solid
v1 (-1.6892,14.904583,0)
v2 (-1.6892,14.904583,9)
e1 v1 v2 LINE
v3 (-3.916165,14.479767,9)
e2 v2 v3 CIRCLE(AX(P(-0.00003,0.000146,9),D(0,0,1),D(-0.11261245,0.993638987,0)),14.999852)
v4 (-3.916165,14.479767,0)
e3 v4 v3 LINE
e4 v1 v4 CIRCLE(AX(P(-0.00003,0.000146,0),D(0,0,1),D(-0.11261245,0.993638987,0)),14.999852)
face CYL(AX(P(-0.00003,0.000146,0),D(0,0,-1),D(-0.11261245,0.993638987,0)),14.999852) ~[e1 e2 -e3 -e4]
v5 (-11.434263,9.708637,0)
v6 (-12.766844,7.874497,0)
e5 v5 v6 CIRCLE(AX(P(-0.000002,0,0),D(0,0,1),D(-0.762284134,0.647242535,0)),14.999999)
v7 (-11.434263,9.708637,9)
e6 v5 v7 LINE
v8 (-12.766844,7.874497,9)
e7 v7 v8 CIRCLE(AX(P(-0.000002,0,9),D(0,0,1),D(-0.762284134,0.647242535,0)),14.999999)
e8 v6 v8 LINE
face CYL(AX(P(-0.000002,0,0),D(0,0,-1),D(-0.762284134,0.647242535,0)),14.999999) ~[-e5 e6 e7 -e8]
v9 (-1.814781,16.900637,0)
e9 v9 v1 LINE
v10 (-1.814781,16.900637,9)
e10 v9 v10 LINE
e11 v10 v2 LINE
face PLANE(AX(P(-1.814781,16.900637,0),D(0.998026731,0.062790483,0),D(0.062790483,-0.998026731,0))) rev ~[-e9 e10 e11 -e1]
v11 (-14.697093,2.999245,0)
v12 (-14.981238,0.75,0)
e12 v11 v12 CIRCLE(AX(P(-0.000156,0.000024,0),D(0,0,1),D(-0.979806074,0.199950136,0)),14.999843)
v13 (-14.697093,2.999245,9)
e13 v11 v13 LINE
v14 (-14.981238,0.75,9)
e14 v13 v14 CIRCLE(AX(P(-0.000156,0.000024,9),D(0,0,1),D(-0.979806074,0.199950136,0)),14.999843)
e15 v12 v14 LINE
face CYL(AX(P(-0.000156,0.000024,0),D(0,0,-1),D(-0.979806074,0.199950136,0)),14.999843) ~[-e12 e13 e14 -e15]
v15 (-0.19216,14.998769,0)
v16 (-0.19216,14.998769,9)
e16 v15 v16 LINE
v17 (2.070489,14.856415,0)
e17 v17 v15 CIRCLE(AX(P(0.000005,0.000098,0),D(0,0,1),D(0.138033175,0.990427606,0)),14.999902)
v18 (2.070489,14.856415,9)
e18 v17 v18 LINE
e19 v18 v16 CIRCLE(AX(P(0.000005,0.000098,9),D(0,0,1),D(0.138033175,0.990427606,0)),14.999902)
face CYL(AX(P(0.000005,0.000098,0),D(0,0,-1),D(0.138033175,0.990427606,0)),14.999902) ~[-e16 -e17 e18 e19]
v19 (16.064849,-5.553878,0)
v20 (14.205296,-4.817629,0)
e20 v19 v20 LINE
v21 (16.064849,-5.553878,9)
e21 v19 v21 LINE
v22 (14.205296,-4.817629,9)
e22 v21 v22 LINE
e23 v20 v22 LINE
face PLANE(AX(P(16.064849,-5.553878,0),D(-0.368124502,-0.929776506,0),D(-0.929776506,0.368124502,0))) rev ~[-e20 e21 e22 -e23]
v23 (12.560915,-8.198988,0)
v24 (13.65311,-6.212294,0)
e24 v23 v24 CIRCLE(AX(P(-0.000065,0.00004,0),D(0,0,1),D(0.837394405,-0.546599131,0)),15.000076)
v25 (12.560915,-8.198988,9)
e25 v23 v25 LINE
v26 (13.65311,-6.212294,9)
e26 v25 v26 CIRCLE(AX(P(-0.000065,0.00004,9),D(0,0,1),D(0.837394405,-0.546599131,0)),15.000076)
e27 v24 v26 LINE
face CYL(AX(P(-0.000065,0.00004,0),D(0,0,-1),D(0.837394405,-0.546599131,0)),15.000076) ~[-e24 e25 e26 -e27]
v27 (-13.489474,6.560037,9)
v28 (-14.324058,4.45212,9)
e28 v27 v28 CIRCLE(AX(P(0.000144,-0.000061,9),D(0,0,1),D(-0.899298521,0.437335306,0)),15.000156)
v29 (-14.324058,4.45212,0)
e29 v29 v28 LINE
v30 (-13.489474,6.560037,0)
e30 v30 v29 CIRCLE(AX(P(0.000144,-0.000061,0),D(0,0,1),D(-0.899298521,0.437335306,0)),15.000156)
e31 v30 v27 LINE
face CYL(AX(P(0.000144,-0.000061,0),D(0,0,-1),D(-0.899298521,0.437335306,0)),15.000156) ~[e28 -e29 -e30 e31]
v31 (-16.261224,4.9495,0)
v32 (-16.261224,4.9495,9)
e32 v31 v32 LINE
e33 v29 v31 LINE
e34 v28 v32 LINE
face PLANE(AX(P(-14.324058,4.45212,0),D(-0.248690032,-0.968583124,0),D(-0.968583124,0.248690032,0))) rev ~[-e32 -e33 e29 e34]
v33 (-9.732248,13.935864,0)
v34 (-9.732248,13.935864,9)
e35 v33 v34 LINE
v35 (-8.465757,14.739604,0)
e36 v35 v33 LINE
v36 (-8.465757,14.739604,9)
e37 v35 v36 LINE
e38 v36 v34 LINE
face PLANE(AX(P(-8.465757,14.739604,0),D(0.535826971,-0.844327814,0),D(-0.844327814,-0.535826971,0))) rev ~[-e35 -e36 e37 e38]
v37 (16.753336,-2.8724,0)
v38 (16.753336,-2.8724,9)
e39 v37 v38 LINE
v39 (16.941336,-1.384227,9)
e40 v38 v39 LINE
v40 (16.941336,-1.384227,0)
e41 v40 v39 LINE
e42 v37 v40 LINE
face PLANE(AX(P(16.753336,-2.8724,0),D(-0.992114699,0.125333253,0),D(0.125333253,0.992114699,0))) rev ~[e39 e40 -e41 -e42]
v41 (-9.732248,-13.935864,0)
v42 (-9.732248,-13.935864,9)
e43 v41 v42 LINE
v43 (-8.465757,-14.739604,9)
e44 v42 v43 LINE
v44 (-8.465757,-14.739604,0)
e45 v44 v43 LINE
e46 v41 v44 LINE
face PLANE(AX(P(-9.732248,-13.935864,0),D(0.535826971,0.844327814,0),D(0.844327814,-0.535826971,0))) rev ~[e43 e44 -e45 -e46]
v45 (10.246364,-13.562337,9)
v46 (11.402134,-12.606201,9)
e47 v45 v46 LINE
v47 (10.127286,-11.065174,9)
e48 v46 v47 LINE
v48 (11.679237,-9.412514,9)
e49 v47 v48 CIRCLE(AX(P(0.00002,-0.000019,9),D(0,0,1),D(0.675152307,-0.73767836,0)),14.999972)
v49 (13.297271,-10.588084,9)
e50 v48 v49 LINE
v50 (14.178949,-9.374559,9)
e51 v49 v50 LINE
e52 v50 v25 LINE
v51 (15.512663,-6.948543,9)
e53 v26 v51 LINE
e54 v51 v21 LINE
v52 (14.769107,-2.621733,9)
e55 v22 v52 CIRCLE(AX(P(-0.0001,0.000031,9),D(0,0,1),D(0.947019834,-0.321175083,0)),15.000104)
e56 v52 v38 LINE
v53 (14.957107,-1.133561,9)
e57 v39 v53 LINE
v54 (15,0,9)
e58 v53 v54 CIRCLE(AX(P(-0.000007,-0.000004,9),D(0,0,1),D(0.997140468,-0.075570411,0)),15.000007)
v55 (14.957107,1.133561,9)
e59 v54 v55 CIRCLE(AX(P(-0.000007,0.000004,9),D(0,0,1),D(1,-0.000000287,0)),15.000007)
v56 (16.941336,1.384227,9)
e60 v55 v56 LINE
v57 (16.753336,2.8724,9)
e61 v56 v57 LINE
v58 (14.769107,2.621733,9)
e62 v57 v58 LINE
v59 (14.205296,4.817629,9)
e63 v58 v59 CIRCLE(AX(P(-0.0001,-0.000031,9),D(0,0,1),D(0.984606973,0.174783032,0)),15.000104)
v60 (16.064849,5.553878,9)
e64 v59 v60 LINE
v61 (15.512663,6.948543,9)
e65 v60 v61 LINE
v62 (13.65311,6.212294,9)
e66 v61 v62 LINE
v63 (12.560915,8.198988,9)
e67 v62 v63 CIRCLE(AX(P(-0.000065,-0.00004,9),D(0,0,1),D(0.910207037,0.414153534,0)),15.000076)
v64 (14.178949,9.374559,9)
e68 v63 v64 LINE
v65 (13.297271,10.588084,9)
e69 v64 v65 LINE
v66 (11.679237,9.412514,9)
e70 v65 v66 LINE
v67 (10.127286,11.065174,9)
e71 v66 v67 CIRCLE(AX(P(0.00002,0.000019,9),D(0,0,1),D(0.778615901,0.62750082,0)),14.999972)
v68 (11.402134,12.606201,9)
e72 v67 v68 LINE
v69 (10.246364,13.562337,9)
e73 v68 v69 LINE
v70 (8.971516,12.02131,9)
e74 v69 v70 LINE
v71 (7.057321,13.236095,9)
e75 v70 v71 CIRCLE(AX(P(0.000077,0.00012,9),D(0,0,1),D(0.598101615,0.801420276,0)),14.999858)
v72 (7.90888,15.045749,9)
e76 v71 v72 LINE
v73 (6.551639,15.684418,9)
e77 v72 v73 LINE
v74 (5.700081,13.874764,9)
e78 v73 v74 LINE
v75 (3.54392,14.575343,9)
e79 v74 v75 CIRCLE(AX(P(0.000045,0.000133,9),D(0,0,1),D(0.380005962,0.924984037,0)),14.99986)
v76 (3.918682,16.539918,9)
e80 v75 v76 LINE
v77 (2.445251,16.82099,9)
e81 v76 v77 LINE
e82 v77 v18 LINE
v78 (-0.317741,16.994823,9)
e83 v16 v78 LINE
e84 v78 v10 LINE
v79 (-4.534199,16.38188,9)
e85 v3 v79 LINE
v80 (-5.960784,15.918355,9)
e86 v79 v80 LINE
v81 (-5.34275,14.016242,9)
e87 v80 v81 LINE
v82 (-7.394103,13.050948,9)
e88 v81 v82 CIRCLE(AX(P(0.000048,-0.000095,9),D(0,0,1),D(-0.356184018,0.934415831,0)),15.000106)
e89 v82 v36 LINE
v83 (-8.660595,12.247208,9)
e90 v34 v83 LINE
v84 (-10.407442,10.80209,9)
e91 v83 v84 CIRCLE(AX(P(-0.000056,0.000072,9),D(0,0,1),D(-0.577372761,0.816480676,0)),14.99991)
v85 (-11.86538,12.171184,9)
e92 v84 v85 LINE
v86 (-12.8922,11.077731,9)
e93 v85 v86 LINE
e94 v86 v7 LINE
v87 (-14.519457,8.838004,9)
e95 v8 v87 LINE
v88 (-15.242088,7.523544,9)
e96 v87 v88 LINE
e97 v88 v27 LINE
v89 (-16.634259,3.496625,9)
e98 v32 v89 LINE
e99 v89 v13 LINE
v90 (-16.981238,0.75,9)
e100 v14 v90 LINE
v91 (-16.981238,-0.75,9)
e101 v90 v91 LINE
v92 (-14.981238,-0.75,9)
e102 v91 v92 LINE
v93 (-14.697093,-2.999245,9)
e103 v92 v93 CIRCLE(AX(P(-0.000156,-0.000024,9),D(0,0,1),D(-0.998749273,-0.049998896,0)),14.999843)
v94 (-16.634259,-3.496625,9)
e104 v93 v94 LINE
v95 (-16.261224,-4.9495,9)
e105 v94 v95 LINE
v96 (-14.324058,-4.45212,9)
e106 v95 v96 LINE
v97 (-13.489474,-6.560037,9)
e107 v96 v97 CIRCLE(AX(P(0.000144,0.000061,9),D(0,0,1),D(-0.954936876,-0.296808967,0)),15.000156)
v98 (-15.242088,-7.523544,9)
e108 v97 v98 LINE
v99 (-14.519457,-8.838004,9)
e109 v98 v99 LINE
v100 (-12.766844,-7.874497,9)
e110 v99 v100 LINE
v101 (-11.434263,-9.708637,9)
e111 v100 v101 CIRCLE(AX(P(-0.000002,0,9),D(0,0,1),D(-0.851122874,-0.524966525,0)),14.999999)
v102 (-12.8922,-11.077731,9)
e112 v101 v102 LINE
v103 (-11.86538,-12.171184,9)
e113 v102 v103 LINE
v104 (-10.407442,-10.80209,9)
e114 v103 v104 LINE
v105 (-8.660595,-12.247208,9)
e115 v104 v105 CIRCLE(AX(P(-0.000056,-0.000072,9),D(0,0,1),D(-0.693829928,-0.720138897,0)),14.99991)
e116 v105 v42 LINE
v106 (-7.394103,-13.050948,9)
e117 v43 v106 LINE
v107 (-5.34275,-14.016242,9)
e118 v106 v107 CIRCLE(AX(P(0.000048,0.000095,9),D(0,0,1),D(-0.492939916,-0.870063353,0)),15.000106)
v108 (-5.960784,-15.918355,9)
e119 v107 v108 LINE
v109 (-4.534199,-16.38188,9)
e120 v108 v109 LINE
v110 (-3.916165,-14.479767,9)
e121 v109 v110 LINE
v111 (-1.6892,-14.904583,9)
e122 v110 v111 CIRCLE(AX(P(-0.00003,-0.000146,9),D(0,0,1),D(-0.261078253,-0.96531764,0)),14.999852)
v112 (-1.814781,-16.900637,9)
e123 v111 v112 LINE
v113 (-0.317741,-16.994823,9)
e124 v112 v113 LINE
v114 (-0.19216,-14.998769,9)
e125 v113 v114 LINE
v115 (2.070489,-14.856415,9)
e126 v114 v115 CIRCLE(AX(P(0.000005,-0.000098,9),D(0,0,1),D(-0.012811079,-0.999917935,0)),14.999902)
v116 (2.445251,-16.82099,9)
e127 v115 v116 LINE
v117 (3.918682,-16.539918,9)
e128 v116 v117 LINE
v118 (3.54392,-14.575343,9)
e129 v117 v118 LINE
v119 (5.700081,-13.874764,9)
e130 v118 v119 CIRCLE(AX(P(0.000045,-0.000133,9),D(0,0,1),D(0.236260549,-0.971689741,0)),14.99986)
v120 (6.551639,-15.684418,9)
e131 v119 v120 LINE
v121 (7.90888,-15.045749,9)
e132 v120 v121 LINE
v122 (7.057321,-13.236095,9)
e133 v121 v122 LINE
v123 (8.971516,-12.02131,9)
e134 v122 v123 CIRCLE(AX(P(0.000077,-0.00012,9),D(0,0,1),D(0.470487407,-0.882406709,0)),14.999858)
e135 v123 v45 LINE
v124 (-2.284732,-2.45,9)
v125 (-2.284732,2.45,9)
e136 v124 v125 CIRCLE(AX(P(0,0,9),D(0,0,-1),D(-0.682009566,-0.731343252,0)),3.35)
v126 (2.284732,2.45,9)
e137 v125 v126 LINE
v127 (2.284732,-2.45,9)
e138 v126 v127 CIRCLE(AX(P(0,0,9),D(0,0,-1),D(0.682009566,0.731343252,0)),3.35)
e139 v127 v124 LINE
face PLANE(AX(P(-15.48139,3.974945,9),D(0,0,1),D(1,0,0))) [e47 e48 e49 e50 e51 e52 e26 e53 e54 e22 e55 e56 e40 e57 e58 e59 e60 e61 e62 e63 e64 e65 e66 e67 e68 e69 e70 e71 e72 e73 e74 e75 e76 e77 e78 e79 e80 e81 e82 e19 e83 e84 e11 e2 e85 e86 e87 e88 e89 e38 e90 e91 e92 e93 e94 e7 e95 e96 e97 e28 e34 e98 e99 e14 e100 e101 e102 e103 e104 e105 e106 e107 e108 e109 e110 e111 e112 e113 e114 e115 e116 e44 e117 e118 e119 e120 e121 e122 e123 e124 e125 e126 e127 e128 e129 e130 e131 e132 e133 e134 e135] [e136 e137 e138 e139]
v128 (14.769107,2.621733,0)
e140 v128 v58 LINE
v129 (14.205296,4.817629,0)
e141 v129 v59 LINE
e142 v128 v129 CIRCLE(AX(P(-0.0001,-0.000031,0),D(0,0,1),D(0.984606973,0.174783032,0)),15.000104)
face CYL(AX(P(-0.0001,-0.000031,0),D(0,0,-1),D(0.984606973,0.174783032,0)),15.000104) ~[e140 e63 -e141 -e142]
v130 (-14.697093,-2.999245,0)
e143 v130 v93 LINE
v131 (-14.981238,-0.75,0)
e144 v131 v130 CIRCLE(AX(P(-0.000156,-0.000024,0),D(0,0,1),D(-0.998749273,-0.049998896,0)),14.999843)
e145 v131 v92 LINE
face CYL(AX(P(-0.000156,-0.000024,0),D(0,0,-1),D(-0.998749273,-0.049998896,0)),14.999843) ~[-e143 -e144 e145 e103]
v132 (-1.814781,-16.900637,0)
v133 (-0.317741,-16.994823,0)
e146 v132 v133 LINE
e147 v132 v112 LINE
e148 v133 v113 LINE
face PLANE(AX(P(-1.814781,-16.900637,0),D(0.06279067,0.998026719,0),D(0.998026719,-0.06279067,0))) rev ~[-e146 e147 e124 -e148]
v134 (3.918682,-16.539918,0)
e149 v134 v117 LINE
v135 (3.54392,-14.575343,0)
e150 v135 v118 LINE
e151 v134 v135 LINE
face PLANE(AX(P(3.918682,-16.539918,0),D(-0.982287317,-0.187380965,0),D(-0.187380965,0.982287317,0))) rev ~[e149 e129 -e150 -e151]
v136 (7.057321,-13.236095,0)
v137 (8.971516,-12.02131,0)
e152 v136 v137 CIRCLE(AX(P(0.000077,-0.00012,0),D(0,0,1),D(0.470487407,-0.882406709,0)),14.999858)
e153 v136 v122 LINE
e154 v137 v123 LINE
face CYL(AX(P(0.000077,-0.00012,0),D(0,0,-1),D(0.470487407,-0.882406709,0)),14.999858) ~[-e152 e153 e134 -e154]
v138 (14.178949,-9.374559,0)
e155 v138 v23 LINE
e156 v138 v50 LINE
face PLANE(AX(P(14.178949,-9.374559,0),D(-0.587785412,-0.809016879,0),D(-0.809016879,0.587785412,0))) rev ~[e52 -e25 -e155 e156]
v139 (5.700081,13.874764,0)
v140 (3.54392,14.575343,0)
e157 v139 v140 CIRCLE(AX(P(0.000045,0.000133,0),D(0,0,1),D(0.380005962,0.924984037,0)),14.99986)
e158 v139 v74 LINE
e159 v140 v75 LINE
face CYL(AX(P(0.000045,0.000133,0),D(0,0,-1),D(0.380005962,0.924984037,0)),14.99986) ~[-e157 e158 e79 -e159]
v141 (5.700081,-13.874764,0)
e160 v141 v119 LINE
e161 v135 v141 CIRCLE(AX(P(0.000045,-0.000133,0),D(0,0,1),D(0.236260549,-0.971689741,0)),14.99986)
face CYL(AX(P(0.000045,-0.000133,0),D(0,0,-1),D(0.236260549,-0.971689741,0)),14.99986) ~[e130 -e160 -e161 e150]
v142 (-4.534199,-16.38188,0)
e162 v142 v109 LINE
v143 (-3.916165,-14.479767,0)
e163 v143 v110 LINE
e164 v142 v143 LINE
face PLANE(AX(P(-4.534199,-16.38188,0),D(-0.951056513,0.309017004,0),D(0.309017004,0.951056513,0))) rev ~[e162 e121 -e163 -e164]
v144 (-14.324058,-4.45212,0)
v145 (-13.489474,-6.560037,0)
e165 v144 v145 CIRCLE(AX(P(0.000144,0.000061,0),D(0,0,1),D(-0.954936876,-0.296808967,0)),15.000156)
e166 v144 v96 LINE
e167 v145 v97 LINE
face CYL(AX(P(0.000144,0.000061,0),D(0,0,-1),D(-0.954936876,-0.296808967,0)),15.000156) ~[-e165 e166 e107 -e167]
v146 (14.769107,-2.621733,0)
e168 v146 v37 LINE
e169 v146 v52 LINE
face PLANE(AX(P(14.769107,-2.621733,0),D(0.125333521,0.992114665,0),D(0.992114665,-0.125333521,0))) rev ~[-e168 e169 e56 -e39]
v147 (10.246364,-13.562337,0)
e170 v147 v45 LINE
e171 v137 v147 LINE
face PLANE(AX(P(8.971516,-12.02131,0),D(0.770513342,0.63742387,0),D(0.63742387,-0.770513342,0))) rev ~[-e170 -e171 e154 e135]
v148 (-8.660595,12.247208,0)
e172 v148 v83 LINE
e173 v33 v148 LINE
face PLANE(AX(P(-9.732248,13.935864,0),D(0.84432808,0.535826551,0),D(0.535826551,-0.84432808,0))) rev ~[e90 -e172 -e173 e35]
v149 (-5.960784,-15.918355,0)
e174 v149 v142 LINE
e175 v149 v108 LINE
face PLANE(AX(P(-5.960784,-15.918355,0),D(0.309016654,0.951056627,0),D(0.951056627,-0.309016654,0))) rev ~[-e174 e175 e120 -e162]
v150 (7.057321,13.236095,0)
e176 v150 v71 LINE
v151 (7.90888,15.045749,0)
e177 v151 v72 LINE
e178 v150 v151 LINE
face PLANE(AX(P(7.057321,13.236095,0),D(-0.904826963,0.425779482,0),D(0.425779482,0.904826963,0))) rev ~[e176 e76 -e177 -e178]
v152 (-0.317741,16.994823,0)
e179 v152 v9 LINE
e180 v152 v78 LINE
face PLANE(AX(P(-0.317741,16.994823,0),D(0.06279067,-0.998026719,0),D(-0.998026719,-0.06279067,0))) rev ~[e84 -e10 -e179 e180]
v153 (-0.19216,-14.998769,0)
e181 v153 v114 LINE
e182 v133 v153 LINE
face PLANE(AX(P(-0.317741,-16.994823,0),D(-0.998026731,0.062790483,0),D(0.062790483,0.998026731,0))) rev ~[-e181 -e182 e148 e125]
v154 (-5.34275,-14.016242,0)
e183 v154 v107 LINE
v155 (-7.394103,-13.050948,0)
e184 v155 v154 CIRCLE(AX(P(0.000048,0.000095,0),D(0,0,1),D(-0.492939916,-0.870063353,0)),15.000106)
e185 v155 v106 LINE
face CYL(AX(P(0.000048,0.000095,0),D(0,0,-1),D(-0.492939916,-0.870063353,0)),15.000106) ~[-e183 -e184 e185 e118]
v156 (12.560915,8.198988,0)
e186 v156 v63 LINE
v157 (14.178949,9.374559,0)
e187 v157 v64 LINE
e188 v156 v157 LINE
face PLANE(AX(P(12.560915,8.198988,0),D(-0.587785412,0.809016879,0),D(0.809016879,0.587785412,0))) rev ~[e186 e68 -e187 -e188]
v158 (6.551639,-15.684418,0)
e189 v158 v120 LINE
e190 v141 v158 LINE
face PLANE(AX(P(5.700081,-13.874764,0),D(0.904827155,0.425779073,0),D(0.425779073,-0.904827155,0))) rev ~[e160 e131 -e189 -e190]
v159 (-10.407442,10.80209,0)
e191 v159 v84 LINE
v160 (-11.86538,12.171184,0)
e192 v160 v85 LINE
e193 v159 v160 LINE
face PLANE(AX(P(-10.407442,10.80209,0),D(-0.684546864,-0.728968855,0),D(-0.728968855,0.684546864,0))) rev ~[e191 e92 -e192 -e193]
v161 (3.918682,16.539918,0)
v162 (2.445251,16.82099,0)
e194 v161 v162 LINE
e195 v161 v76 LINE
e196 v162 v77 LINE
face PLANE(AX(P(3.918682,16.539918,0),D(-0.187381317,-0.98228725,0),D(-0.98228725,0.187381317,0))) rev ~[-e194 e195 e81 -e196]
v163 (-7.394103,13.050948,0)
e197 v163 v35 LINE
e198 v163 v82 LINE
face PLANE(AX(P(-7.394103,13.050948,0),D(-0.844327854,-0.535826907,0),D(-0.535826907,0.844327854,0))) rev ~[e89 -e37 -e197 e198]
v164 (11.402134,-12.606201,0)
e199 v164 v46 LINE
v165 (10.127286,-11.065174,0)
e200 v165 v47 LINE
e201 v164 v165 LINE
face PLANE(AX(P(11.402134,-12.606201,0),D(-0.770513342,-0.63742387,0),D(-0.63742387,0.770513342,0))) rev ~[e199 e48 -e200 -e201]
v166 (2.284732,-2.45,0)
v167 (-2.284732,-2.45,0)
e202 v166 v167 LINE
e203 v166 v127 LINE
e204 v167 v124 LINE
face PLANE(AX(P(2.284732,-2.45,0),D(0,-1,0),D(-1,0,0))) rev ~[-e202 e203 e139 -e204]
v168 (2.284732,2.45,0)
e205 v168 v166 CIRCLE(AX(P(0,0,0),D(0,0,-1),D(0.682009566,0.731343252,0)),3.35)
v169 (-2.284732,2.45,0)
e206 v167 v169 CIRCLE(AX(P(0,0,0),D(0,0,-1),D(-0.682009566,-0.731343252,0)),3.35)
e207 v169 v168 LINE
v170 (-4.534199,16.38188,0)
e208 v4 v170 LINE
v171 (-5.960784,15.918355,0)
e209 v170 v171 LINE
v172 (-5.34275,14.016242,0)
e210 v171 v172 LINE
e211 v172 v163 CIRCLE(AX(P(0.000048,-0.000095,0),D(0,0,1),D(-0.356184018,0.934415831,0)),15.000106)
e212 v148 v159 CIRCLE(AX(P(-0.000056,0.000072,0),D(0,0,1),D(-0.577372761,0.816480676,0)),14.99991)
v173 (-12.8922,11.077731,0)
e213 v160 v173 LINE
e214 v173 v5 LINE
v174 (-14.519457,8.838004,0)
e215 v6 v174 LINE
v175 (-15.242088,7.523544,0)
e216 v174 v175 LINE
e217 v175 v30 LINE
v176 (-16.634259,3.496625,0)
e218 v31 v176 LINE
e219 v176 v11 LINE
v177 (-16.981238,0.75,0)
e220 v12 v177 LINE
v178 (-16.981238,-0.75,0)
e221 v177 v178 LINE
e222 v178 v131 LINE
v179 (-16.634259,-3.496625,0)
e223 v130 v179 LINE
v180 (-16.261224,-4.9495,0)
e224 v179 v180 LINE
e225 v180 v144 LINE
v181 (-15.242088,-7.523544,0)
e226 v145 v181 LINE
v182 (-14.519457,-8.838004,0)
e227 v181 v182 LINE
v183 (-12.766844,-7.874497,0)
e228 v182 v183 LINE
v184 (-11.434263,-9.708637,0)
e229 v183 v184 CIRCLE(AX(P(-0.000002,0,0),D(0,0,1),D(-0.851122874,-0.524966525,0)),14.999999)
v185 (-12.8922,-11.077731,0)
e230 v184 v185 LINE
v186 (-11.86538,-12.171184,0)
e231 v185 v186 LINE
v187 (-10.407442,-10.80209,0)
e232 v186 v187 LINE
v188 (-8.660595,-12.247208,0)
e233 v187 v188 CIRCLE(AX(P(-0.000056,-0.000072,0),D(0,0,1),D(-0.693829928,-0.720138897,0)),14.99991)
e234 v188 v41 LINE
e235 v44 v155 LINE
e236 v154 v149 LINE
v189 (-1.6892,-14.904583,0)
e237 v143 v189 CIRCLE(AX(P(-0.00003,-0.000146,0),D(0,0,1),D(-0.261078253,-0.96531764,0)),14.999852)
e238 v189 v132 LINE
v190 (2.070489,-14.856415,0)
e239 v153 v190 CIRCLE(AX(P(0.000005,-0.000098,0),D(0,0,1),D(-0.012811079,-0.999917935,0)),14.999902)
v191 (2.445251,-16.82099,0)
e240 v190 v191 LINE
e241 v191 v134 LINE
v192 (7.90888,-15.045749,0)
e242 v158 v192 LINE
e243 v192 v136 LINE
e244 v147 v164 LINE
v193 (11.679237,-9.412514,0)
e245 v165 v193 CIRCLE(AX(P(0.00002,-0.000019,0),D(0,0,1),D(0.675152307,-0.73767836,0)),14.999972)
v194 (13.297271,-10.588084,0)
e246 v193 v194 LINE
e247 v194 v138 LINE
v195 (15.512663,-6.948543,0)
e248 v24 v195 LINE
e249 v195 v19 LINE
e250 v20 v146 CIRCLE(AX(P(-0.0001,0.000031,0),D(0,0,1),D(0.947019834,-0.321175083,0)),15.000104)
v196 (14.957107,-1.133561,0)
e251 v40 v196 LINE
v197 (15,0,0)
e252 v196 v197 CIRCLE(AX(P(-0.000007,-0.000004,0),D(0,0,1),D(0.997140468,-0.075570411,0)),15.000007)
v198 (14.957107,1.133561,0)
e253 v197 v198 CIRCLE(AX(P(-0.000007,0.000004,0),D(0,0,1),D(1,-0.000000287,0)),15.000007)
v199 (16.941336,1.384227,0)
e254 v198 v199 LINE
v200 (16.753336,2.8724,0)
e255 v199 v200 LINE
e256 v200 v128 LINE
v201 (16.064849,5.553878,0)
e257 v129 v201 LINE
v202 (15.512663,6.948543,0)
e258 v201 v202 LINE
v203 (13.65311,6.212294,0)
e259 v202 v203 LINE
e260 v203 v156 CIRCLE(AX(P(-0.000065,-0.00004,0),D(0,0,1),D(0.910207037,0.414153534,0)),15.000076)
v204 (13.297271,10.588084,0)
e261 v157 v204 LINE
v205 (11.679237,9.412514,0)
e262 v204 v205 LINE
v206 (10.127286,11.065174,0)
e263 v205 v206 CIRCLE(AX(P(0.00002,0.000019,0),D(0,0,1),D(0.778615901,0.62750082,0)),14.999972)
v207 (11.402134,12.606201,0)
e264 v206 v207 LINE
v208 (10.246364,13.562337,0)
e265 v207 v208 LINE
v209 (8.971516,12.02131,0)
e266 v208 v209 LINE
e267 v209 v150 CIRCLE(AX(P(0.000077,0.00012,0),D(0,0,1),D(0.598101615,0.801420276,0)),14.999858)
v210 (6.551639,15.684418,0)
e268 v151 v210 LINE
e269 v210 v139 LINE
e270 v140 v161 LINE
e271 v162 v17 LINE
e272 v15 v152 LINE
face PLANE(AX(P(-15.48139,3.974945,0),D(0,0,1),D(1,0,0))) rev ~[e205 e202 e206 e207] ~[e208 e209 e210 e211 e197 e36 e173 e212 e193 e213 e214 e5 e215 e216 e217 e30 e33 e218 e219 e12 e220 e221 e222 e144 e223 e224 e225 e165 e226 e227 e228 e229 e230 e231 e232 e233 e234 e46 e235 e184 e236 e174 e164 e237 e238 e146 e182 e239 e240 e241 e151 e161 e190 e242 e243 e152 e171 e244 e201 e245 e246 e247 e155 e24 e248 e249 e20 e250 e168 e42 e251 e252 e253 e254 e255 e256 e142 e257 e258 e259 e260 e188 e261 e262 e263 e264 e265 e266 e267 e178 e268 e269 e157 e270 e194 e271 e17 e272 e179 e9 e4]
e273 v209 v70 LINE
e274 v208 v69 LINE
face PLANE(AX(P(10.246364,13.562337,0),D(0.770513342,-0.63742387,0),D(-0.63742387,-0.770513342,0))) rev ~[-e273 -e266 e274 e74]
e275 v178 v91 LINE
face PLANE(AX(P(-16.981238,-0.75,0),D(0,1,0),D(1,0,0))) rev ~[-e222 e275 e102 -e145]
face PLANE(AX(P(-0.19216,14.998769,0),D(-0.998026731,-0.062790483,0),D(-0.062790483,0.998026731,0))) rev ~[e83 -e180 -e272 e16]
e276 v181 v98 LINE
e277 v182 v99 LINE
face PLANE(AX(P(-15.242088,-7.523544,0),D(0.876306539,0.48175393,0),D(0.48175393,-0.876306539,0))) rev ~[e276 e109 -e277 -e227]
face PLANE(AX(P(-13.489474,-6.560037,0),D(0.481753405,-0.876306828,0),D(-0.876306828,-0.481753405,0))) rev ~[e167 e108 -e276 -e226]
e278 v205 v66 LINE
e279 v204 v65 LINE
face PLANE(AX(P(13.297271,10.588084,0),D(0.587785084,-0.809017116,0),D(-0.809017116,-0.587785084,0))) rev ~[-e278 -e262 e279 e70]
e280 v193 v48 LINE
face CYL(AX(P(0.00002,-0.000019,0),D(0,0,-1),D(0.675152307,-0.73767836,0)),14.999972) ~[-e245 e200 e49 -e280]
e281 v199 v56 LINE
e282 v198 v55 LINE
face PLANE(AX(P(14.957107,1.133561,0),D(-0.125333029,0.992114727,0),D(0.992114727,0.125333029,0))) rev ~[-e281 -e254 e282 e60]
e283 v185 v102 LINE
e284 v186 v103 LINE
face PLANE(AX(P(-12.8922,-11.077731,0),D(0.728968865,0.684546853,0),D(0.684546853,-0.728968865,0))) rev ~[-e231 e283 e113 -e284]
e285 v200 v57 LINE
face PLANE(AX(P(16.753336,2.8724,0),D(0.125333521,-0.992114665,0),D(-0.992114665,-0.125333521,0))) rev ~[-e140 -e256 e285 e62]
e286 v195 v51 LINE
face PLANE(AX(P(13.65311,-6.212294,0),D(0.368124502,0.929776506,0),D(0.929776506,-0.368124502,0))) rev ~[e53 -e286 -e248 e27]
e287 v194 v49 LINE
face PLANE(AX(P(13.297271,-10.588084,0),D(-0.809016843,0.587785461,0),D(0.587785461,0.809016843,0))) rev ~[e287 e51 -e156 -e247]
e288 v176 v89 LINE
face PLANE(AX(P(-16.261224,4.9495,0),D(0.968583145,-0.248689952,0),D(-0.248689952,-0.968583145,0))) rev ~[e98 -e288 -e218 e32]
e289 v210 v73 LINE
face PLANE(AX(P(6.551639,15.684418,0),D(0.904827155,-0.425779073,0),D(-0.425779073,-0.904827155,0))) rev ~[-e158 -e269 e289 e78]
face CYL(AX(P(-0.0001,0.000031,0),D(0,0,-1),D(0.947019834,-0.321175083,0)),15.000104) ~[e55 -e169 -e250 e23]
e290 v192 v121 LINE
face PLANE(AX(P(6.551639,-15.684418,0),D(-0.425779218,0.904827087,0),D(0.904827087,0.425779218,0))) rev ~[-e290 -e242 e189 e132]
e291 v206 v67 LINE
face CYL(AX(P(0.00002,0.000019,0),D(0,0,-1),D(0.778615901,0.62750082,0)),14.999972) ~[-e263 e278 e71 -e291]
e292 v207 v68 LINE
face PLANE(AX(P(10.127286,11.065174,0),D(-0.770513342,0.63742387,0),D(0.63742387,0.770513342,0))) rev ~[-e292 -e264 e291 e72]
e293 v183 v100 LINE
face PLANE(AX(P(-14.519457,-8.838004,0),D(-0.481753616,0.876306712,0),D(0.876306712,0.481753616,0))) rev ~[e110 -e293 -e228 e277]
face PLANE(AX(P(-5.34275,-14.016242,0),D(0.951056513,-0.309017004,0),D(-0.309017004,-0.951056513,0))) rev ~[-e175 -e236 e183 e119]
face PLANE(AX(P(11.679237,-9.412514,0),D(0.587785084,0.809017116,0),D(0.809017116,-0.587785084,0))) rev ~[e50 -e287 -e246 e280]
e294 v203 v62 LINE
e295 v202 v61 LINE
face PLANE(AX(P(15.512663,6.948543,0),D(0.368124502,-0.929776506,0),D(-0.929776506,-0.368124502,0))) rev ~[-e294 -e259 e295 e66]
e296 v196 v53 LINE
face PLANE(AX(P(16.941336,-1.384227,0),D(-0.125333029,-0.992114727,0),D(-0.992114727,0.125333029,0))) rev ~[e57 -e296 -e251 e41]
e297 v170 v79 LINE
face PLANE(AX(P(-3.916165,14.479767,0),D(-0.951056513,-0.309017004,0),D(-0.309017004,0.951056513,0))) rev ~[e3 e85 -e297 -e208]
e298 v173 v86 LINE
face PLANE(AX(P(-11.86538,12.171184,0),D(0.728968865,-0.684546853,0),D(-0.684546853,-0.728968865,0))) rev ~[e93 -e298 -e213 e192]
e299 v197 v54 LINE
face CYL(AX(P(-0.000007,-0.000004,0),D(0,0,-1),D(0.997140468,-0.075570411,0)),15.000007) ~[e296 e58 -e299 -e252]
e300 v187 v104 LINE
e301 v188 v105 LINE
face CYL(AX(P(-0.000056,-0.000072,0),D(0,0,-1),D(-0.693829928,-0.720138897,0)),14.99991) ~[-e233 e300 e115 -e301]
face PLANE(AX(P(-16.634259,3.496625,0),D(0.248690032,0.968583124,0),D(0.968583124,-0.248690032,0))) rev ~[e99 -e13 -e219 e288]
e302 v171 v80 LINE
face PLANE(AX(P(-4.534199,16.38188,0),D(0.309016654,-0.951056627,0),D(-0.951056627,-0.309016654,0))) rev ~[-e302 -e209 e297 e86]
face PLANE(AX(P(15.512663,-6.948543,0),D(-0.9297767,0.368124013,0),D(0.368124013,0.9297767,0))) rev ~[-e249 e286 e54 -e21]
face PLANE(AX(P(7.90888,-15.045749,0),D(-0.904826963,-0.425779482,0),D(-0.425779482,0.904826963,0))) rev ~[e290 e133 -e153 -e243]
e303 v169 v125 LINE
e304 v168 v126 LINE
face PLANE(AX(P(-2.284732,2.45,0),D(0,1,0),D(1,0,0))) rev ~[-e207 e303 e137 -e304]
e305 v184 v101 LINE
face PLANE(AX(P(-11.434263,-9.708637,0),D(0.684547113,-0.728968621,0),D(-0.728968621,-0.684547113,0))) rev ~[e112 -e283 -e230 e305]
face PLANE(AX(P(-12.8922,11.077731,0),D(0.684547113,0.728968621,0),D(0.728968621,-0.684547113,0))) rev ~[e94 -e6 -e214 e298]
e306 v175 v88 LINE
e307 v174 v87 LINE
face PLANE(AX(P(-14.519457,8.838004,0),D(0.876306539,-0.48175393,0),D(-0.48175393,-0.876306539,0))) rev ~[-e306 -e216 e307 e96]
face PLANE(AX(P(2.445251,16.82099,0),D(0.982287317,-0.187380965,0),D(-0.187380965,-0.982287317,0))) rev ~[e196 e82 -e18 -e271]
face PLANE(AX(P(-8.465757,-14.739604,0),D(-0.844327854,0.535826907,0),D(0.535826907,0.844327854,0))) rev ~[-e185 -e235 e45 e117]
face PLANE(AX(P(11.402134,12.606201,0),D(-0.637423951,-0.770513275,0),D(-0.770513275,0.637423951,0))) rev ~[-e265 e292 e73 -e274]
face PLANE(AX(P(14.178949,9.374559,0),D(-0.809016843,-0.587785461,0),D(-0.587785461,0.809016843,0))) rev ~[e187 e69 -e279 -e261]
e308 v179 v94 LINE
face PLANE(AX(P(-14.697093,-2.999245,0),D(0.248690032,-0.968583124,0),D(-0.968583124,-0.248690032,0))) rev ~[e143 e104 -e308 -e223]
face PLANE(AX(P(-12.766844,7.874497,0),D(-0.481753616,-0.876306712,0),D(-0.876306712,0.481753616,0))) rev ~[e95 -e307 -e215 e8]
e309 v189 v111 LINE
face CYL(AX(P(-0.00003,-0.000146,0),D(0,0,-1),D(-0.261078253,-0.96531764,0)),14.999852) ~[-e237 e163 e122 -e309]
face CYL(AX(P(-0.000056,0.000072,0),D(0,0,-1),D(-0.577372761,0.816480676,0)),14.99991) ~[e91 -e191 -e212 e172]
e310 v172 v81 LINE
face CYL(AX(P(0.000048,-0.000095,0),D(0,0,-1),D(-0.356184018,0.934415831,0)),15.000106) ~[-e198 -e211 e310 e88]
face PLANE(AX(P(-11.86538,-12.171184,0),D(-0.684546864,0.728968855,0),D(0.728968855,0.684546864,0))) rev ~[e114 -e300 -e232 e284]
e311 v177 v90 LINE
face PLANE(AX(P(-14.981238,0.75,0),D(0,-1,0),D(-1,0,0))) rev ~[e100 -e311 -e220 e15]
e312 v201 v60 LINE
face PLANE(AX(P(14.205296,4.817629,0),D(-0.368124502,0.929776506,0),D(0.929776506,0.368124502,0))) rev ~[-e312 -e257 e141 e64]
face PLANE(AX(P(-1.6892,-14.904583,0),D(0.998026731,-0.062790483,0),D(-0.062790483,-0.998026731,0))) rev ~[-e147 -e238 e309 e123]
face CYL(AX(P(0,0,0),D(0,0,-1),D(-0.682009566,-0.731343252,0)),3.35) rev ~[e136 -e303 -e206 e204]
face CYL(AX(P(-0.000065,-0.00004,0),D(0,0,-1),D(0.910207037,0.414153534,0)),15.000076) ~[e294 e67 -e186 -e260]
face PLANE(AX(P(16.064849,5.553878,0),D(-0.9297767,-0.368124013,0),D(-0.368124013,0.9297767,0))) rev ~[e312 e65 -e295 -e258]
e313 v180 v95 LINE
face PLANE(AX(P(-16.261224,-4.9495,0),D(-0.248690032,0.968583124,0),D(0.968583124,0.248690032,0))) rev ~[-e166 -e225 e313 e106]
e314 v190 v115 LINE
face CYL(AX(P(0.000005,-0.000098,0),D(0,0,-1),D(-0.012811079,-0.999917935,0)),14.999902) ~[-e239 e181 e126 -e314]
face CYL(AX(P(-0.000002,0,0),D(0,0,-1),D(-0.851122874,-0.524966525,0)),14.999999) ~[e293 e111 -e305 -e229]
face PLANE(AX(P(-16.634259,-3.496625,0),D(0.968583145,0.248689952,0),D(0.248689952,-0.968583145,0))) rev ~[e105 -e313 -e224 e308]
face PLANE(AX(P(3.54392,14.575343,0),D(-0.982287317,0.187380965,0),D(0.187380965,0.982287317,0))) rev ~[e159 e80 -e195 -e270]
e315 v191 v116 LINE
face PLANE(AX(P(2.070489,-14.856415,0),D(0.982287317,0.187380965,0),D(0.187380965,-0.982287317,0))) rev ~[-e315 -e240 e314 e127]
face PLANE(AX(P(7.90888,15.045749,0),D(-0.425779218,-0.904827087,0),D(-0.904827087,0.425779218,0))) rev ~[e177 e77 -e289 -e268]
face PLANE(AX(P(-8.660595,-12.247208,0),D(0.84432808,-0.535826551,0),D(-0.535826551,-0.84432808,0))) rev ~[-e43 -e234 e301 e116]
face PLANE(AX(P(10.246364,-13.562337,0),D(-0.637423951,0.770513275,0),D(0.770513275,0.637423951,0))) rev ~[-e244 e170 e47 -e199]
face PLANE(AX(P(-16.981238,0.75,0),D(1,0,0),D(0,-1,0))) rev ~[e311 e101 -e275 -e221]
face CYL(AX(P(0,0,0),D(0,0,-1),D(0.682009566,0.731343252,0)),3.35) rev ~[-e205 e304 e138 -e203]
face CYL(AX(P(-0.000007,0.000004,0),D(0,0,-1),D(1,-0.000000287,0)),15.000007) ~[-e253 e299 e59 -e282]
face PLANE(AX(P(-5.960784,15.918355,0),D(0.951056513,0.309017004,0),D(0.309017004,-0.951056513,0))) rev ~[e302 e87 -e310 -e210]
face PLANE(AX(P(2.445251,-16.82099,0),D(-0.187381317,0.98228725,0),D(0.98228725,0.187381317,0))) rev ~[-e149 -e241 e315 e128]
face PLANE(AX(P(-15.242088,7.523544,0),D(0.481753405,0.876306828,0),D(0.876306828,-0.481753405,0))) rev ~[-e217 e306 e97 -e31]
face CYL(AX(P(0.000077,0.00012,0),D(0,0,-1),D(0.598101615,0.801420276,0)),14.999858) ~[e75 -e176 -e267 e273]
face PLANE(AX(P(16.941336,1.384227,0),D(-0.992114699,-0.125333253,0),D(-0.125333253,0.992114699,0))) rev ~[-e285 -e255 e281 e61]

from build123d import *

# Parameters (mm, degrees)
F1_DEPTH = 9


with BuildPart() as f1:
    # F0 (on Top) → F1 (new body)
    with BuildSketch(Plane.XY):
        with BuildLine():
            ThreePointArc((-14.697093, 2.999245), (-14.528747, 3.730348), (-14.324058, 4.45212))
            Line((-14.324058, 4.45212), (-16.261224, 4.9495))
            Line((-16.261224, 4.9495), (-16.634259, 3.496625))
            Line((-16.634259, 3.496625), (-14.697093, 2.999245))
        make_face()
        with BuildLine():
            ThreePointArc((-13.489474, 6.560037), (-13.1446, 7.226305), (-12.766844, 7.874497))
            Line((-12.766844, 7.874497), (-14.519457, 8.838004))
            Line((-14.519457, 8.838004), (-15.242088, 7.523544))
            Line((-15.242088, 7.523544), (-13.489474, 6.560037))
        make_face()
        with BuildLine():
            ThreePointArc((-11.434263, 9.708637), (-10.934529, 10.268207), (-10.407442, 10.80209))
            Line((-10.407442, 10.80209), (-11.86538, 12.171184))
            Line((-11.86538, 12.171184), (-12.8922, 11.077731))
            Line((-12.8922, 11.077731), (-11.434263, 9.708637))
        make_face()
        with BuildLine():
            ThreePointArc((-8.660595, 12.247208), (-8.037402, 12.664919), (-7.394103, 13.050948))
            Line((-7.394103, 13.050948), (-8.465757, 14.739604))
            Line((-8.465757, 14.739604), (-9.732248, 13.935864))
            Line((-9.732248, 13.935864), (-8.660595, 12.247208))
        make_face()
        with BuildLine():
            ThreePointArc((-14.981238, -0.75), (-15, 0), (-14.981238, 0.75))
            Line((-14.981238, 0.75), (-16.981238, 0.75))
            Line((-16.981238, 0.75), (-16.981238, -0.75))
            Line((-16.981238, -0.75), (-14.981238, -0.75))
        make_face()
        with BuildLine():
            Line((-16.261224, -4.9495), (-14.324058, -4.45212))
            ThreePointArc((-14.324058, -4.45212), (-14.528747, -3.730348), (-14.697093, -2.999245))
            Line((-14.697093, -2.999245), (-16.634259, -3.496625))
            Line((-16.634259, -3.496625), (-16.261224, -4.9495))
        make_face()
        with BuildLine():
            Line((-14.519457, -8.838004), (-12.766844, -7.874497))
            ThreePointArc((-12.766844, -7.874497), (-13.1446, -7.226305), (-13.489474, -6.560037))
            Line((-13.489474, -6.560037), (-15.242088, -7.523544))
            Line((-15.242088, -7.523544), (-14.519457, -8.838004))
        make_face()
        with BuildLine():
            ThreePointArc((14.957107, -1.133561), (14.989273, -0.567186), (15, 0))
            ThreePointArc((15, 0), (14.989273, 0.567186), (14.957107, 1.133561))
            ThreePointArc((14.957107, 1.133561), (14.881721, 1.879999), (14.769107, 2.621733))
            ThreePointArc((14.769107, 2.621733), (14.528747, 3.730348), (14.205296, 4.817629))
            ThreePointArc((14.205296, 4.817629), (13.946647, 5.521868), (13.65311, 6.212294))
            ThreePointArc((13.65311, 6.212294), (13.1446, 7.226305), (12.560915, 8.198988))
            ThreePointArc((12.560915, 8.198988), (12.135255, 8.816779), (11.679237, 9.412514))
            ThreePointArc((11.679237, 9.412514), (10.934529, 10.268207), (10.127286, 11.065174))
            ThreePointArc((10.127286, 11.065174), (9.56136, 11.557699), (8.971516, 12.02131))
            ThreePointArc((8.971516, 12.02131), (8.037402, 12.664919), (7.057321, 13.236095))
            ThreePointArc((7.057321, 13.236095), (6.386689, 13.572406), (5.700081, 13.874764))
            ThreePointArc((5.700081, 13.874764), (4.635255, 14.265848), (3.54392, 14.575343))
            ThreePointArc((3.54392, 14.575343), (2.81072, 14.734309), (2.070489, 14.856415))
            ThreePointArc((2.070489, 14.856415), (0.941858, 14.970401), (-0.19216, 14.998769))
            ThreePointArc((-0.19216, 14.998769), (-0.941858, 14.970401), (-1.6892, 14.904583))
            ThreePointArc((-1.6892, 14.904583), (-2.81072, 14.734309), (-3.916165, 14.479767))
            ThreePointArc((-3.916165, 14.479767), (-4.635255, 14.265848), (-5.34275, 14.016242))
            ThreePointArc((-5.34275, 14.016242), (-6.386689, 13.572406), (-7.394103, 13.050948))
            ThreePointArc((-7.394103, 13.050948), (-8.037402, 12.664919), (-8.660595, 12.247208))
            ThreePointArc((-8.660595, 12.247208), (-9.56136, 11.557699), (-10.407442, 10.80209))
            ThreePointArc((-10.407442, 10.80209), (-10.934529, 10.268207), (-11.434263, 9.708637))
            ThreePointArc((-11.434263, 9.708637), (-12.135255, 8.816779), (-12.766844, 7.874497))
            ThreePointArc((-12.766844, 7.874497), (-13.1446, 7.226305), (-13.489474, 6.560037))
            ThreePointArc((-13.489474, 6.560037), (-13.946647, 5.521868), (-14.324058, 4.45212))
            ThreePointArc((-14.324058, 4.45212), (-14.528747, 3.730348), (-14.697093, 2.999245))
            ThreePointArc((-14.697093, 2.999245), (-14.881721, 1.879999), (-14.981238, 0.75))
            ThreePointArc((-14.981238, 0.75), (-15, 0), (-14.981238, -0.75))
            ThreePointArc((-14.981238, -0.75), (-14.881721, -1.879999), (-14.697093, -2.999245))
            ThreePointArc((-14.697093, -2.999245), (-14.528747, -3.730348), (-14.324058, -4.45212))
            ThreePointArc((-14.324058, -4.45212), (-13.946647, -5.521868), (-13.489474, -6.560037))
            ThreePointArc((-13.489474, -6.560037), (-13.1446, -7.226305), (-12.766844, -7.874497))
            ThreePointArc((-12.766844, -7.874497), (-12.135255, -8.816779), (-11.434263, -9.708637))
            ThreePointArc((-11.434263, -9.708637), (-10.934529, -10.268207), (-10.407442, -10.80209))
            ThreePointArc((-10.407442, -10.80209), (-9.56136, -11.557699), (-8.660595, -12.247208))
            ThreePointArc((-8.660595, -12.247208), (-8.037402, -12.664919), (-7.394103, -13.050948))
            ThreePointArc((-7.394103, -13.050948), (-6.386689, -13.572406), (-5.34275, -14.016242))
            ThreePointArc((-5.34275, -14.016242), (-4.635255, -14.265848), (-3.916165, -14.479767))
            ThreePointArc((-3.916165, -14.479767), (-2.81072, -14.734309), (-1.6892, -14.904583))
            ThreePointArc((-1.6892, -14.904583), (-0.941858, -14.970401), (-0.19216, -14.998769))
            ThreePointArc((-0.19216, -14.998769), (0.941858, -14.970401), (2.070489, -14.856415))
            ThreePointArc((2.070489, -14.856415), (2.81072, -14.734309), (3.54392, -14.575343))
            ThreePointArc((3.54392, -14.575343), (4.635255, -14.265848), (5.700081, -13.874764))
            ThreePointArc((5.700081, -13.874764), (6.386689, -13.572406), (7.057321, -13.236095))
            ThreePointArc((7.057321, -13.236095), (8.037402, -12.664919), (8.971516, -12.02131))
            ThreePointArc((8.971516, -12.02131), (9.56136, -11.557699), (10.127286, -11.065174))
            ThreePointArc((10.127286, -11.065174), (10.934529, -10.268207), (11.679237, -9.412514))
            ThreePointArc((11.679237, -9.412514), (12.135255, -8.816779), (12.560915, -8.198988))
            ThreePointArc((12.560915, -8.198988), (13.1446, -7.226305), (13.65311, -6.212294))
            ThreePointArc((13.65311, -6.212294), (13.946647, -5.521868), (14.205296, -4.817629))
            ThreePointArc((14.205296, -4.817629), (14.528747, -3.730348), (14.769107, -2.621733))
            ThreePointArc((14.769107, -2.621733), (14.881721, -1.879999), (14.957107, -1.133561))
        make_face()
        with BuildLine():
            ThreePointArc((-2.284732, -2.45), (-3.35, 0), (-2.284732, 2.45))
            Line((-2.284732, 2.45), (2.284732, 2.45))
            ThreePointArc((2.284732, 2.45), (3.35, 0), (2.284732, -2.45))
            Line((2.284732, -2.45), (-2.284732, -2.45))
        make_face(mode=Mode.SUBTRACT)
        with BuildLine():
            Line((-11.86538, -12.171184), (-10.407442, -10.80209))
            ThreePointArc((-10.407442, -10.80209), (-10.934529, -10.268207), (-11.434263, -9.708637))
            Line((-11.434263, -9.708637), (-12.8922, -11.077731))
            Line((-12.8922, -11.077731), (-11.86538, -12.171184))
        make_face()
        with BuildLine():
            Line((-8.465757, -14.739604), (-7.394103, -13.050948))
            ThreePointArc((-7.394103, -13.050948), (-8.037402, -12.664919), (-8.660595, -12.247208))
            Line((-8.660595, -12.247208), (-9.732248, -13.935864))
            Line((-9.732248, -13.935864), (-8.465757, -14.739604))
        make_face()
        with BuildLine():
            ThreePointArc((-5.34275, 14.016242), (-4.635255, 14.265848), (-3.916165, 14.479767))
            Line((-3.916165, 14.479767), (-4.534199, 16.38188))
            Line((-4.534199, 16.38188), (-5.960784, 15.918355))
            Line((-5.960784, 15.918355), (-5.34275, 14.016242))
        make_face()
        with BuildLine():
            ThreePointArc((-1.6892, 14.904583), (-0.941858, 14.970401), (-0.19216, 14.998769))
            Line((-0.19216, 14.998769), (-0.317741, 16.994823))
            Line((-0.317741, 16.994823), (-1.814781, 16.900637))
            Line((-1.814781, 16.900637), (-1.6892, 14.904583))
        make_face()
        with BuildLine():
            ThreePointArc((2.070489, 14.856415), (2.81072, 14.734309), (3.54392, 14.575343))
            Line((3.54392, 14.575343), (3.918682, 16.539918))
            Line((3.918682, 16.539918), (2.445251, 16.82099))
            Line((2.445251, 16.82099), (2.070489, 14.856415))
        make_face()
        with BuildLine():
            ThreePointArc((5.700081, 13.874764), (6.386689, 13.572406), (7.057321, 13.236095))
            Line((7.057321, 13.236095), (7.90888, 15.045749))
            Line((7.90888, 15.045749), (6.551639, 15.684418))
            Line((6.551639, 15.684418), (5.700081, 13.874764))
        make_face()
        with BuildLine():
            ThreePointArc((8.971516, 12.02131), (9.56136, 11.557699), (10.127286, 11.065174))
            Line((10.127286, 11.065174), (11.402134, 12.606201))
            Line((11.402134, 12.606201), (10.246364, 13.562337))
            Line((10.246364, 13.562337), (8.971516, 12.02131))
        make_face()
        with BuildLine():
            ThreePointArc((11.679237, 9.412514), (12.135255, 8.816779), (12.560915, 8.198988))
            Line((12.560915, 8.198988), (14.178949, 9.374559))
            Line((14.178949, 9.374559), (13.297271, 10.588084))
            Line((13.297271, 10.588084), (11.679237, 9.412514))
        make_face()
        with BuildLine():
            ThreePointArc((13.65311, 6.212294), (13.946647, 5.521868), (14.205296, 4.817629))
            Line((14.205296, 4.817629), (16.064849, 5.553878))
            Line((16.064849, 5.553878), (15.512663, 6.948543))
            Line((15.512663, 6.948543), (13.65311, 6.212294))
        make_face()
        with BuildLine():
            ThreePointArc((14.769107, 2.621733), (14.881721, 1.879999), (14.957107, 1.133561))
            Line((14.957107, 1.133561), (16.941336, 1.384227))
            Line((16.941336, 1.384227), (16.753336, 2.8724))
            Line((16.753336, 2.8724), (14.769107, 2.621733))
        make_face()
        with BuildLine():
            Line((16.941336, -1.384227), (14.957107, -1.133561))
            ThreePointArc((14.957107, -1.133561), (14.881721, -1.879999), (14.769107, -2.621733))
            Line((14.769107, -2.621733), (16.753336, -2.8724))
            Line((16.753336, -2.8724), (16.941336, -1.384227))
        make_face()
        with BuildLine():
            Line((16.064849, -5.553878), (14.205296, -4.817629))
            ThreePointArc((14.205296, -4.817629), (13.946647, -5.521868), (13.65311, -6.212294))
            Line((13.65311, -6.212294), (15.512663, -6.948543))
            Line((15.512663, -6.948543), (16.064849, -5.553878))
        make_face()
        with BuildLine():
            Line((14.178949, -9.374559), (12.560915, -8.198988))
            ThreePointArc((12.560915, -8.198988), (12.135255, -8.816779), (11.679237, -9.412514))
            Line((11.679237, -9.412514), (13.297271, -10.588084))
            Line((13.297271, -10.588084), (14.178949, -9.374559))
        make_face()
        with BuildLine():
            Line((11.402134, -12.606201), (10.127286, -11.065174))
            ThreePointArc((10.127286, -11.065174), (9.56136, -11.557699), (8.971516, -12.02131))
            Line((8.971516, -12.02131), (10.246364, -13.562337))
            Line((10.246364, -13.562337), (11.402134, -12.606201))
        make_face()
        with BuildLine():
            Line((7.90888, -15.045749), (7.057321, -13.236095))
            ThreePointArc((7.057321, -13.236095), (6.386689, -13.572406), (5.700081, -13.874764))
            Line((5.700081, -13.874764), (6.551639, -15.684418))
            Line((6.551639, -15.684418), (7.90888, -15.045749))
        make_face()
        with BuildLine():
            Line((3.918682, -16.539918), (3.54392, -14.575343))
            ThreePointArc((3.54392, -14.575343), (2.81072, -14.734309), (2.070489, -14.856415))
            Line((2.070489, -14.856415), (2.445251, -16.82099))
            Line((2.445251, -16.82099), (3.918682, -16.539918))
        make_face()
        with BuildLine():
            Line((-0.317741, -16.994823), (-0.19216, -14.998769))
            ThreePointArc((-0.19216, -14.998769), (-0.941858, -14.970401), (-1.6892, -14.904583))
            Line((-1.6892, -14.904583), (-1.814781, -16.900637))
            Line((-1.814781, -16.900637), (-0.317741, -16.994823))
        make_face()
        with BuildLine():
            Line((-4.534199, -16.38188), (-3.916165, -14.479767))
            ThreePointArc((-3.916165, -14.479767), (-4.635255, -14.265848), (-5.34275, -14.016242))
            Line((-5.34275, -14.016242), (-5.960784, -15.918355))
            Line((-5.960784, -15.918355), (-4.534199, -16.38188))
        make_face()
    extrude(amount=F1_DEPTH)


solid = f1.part
